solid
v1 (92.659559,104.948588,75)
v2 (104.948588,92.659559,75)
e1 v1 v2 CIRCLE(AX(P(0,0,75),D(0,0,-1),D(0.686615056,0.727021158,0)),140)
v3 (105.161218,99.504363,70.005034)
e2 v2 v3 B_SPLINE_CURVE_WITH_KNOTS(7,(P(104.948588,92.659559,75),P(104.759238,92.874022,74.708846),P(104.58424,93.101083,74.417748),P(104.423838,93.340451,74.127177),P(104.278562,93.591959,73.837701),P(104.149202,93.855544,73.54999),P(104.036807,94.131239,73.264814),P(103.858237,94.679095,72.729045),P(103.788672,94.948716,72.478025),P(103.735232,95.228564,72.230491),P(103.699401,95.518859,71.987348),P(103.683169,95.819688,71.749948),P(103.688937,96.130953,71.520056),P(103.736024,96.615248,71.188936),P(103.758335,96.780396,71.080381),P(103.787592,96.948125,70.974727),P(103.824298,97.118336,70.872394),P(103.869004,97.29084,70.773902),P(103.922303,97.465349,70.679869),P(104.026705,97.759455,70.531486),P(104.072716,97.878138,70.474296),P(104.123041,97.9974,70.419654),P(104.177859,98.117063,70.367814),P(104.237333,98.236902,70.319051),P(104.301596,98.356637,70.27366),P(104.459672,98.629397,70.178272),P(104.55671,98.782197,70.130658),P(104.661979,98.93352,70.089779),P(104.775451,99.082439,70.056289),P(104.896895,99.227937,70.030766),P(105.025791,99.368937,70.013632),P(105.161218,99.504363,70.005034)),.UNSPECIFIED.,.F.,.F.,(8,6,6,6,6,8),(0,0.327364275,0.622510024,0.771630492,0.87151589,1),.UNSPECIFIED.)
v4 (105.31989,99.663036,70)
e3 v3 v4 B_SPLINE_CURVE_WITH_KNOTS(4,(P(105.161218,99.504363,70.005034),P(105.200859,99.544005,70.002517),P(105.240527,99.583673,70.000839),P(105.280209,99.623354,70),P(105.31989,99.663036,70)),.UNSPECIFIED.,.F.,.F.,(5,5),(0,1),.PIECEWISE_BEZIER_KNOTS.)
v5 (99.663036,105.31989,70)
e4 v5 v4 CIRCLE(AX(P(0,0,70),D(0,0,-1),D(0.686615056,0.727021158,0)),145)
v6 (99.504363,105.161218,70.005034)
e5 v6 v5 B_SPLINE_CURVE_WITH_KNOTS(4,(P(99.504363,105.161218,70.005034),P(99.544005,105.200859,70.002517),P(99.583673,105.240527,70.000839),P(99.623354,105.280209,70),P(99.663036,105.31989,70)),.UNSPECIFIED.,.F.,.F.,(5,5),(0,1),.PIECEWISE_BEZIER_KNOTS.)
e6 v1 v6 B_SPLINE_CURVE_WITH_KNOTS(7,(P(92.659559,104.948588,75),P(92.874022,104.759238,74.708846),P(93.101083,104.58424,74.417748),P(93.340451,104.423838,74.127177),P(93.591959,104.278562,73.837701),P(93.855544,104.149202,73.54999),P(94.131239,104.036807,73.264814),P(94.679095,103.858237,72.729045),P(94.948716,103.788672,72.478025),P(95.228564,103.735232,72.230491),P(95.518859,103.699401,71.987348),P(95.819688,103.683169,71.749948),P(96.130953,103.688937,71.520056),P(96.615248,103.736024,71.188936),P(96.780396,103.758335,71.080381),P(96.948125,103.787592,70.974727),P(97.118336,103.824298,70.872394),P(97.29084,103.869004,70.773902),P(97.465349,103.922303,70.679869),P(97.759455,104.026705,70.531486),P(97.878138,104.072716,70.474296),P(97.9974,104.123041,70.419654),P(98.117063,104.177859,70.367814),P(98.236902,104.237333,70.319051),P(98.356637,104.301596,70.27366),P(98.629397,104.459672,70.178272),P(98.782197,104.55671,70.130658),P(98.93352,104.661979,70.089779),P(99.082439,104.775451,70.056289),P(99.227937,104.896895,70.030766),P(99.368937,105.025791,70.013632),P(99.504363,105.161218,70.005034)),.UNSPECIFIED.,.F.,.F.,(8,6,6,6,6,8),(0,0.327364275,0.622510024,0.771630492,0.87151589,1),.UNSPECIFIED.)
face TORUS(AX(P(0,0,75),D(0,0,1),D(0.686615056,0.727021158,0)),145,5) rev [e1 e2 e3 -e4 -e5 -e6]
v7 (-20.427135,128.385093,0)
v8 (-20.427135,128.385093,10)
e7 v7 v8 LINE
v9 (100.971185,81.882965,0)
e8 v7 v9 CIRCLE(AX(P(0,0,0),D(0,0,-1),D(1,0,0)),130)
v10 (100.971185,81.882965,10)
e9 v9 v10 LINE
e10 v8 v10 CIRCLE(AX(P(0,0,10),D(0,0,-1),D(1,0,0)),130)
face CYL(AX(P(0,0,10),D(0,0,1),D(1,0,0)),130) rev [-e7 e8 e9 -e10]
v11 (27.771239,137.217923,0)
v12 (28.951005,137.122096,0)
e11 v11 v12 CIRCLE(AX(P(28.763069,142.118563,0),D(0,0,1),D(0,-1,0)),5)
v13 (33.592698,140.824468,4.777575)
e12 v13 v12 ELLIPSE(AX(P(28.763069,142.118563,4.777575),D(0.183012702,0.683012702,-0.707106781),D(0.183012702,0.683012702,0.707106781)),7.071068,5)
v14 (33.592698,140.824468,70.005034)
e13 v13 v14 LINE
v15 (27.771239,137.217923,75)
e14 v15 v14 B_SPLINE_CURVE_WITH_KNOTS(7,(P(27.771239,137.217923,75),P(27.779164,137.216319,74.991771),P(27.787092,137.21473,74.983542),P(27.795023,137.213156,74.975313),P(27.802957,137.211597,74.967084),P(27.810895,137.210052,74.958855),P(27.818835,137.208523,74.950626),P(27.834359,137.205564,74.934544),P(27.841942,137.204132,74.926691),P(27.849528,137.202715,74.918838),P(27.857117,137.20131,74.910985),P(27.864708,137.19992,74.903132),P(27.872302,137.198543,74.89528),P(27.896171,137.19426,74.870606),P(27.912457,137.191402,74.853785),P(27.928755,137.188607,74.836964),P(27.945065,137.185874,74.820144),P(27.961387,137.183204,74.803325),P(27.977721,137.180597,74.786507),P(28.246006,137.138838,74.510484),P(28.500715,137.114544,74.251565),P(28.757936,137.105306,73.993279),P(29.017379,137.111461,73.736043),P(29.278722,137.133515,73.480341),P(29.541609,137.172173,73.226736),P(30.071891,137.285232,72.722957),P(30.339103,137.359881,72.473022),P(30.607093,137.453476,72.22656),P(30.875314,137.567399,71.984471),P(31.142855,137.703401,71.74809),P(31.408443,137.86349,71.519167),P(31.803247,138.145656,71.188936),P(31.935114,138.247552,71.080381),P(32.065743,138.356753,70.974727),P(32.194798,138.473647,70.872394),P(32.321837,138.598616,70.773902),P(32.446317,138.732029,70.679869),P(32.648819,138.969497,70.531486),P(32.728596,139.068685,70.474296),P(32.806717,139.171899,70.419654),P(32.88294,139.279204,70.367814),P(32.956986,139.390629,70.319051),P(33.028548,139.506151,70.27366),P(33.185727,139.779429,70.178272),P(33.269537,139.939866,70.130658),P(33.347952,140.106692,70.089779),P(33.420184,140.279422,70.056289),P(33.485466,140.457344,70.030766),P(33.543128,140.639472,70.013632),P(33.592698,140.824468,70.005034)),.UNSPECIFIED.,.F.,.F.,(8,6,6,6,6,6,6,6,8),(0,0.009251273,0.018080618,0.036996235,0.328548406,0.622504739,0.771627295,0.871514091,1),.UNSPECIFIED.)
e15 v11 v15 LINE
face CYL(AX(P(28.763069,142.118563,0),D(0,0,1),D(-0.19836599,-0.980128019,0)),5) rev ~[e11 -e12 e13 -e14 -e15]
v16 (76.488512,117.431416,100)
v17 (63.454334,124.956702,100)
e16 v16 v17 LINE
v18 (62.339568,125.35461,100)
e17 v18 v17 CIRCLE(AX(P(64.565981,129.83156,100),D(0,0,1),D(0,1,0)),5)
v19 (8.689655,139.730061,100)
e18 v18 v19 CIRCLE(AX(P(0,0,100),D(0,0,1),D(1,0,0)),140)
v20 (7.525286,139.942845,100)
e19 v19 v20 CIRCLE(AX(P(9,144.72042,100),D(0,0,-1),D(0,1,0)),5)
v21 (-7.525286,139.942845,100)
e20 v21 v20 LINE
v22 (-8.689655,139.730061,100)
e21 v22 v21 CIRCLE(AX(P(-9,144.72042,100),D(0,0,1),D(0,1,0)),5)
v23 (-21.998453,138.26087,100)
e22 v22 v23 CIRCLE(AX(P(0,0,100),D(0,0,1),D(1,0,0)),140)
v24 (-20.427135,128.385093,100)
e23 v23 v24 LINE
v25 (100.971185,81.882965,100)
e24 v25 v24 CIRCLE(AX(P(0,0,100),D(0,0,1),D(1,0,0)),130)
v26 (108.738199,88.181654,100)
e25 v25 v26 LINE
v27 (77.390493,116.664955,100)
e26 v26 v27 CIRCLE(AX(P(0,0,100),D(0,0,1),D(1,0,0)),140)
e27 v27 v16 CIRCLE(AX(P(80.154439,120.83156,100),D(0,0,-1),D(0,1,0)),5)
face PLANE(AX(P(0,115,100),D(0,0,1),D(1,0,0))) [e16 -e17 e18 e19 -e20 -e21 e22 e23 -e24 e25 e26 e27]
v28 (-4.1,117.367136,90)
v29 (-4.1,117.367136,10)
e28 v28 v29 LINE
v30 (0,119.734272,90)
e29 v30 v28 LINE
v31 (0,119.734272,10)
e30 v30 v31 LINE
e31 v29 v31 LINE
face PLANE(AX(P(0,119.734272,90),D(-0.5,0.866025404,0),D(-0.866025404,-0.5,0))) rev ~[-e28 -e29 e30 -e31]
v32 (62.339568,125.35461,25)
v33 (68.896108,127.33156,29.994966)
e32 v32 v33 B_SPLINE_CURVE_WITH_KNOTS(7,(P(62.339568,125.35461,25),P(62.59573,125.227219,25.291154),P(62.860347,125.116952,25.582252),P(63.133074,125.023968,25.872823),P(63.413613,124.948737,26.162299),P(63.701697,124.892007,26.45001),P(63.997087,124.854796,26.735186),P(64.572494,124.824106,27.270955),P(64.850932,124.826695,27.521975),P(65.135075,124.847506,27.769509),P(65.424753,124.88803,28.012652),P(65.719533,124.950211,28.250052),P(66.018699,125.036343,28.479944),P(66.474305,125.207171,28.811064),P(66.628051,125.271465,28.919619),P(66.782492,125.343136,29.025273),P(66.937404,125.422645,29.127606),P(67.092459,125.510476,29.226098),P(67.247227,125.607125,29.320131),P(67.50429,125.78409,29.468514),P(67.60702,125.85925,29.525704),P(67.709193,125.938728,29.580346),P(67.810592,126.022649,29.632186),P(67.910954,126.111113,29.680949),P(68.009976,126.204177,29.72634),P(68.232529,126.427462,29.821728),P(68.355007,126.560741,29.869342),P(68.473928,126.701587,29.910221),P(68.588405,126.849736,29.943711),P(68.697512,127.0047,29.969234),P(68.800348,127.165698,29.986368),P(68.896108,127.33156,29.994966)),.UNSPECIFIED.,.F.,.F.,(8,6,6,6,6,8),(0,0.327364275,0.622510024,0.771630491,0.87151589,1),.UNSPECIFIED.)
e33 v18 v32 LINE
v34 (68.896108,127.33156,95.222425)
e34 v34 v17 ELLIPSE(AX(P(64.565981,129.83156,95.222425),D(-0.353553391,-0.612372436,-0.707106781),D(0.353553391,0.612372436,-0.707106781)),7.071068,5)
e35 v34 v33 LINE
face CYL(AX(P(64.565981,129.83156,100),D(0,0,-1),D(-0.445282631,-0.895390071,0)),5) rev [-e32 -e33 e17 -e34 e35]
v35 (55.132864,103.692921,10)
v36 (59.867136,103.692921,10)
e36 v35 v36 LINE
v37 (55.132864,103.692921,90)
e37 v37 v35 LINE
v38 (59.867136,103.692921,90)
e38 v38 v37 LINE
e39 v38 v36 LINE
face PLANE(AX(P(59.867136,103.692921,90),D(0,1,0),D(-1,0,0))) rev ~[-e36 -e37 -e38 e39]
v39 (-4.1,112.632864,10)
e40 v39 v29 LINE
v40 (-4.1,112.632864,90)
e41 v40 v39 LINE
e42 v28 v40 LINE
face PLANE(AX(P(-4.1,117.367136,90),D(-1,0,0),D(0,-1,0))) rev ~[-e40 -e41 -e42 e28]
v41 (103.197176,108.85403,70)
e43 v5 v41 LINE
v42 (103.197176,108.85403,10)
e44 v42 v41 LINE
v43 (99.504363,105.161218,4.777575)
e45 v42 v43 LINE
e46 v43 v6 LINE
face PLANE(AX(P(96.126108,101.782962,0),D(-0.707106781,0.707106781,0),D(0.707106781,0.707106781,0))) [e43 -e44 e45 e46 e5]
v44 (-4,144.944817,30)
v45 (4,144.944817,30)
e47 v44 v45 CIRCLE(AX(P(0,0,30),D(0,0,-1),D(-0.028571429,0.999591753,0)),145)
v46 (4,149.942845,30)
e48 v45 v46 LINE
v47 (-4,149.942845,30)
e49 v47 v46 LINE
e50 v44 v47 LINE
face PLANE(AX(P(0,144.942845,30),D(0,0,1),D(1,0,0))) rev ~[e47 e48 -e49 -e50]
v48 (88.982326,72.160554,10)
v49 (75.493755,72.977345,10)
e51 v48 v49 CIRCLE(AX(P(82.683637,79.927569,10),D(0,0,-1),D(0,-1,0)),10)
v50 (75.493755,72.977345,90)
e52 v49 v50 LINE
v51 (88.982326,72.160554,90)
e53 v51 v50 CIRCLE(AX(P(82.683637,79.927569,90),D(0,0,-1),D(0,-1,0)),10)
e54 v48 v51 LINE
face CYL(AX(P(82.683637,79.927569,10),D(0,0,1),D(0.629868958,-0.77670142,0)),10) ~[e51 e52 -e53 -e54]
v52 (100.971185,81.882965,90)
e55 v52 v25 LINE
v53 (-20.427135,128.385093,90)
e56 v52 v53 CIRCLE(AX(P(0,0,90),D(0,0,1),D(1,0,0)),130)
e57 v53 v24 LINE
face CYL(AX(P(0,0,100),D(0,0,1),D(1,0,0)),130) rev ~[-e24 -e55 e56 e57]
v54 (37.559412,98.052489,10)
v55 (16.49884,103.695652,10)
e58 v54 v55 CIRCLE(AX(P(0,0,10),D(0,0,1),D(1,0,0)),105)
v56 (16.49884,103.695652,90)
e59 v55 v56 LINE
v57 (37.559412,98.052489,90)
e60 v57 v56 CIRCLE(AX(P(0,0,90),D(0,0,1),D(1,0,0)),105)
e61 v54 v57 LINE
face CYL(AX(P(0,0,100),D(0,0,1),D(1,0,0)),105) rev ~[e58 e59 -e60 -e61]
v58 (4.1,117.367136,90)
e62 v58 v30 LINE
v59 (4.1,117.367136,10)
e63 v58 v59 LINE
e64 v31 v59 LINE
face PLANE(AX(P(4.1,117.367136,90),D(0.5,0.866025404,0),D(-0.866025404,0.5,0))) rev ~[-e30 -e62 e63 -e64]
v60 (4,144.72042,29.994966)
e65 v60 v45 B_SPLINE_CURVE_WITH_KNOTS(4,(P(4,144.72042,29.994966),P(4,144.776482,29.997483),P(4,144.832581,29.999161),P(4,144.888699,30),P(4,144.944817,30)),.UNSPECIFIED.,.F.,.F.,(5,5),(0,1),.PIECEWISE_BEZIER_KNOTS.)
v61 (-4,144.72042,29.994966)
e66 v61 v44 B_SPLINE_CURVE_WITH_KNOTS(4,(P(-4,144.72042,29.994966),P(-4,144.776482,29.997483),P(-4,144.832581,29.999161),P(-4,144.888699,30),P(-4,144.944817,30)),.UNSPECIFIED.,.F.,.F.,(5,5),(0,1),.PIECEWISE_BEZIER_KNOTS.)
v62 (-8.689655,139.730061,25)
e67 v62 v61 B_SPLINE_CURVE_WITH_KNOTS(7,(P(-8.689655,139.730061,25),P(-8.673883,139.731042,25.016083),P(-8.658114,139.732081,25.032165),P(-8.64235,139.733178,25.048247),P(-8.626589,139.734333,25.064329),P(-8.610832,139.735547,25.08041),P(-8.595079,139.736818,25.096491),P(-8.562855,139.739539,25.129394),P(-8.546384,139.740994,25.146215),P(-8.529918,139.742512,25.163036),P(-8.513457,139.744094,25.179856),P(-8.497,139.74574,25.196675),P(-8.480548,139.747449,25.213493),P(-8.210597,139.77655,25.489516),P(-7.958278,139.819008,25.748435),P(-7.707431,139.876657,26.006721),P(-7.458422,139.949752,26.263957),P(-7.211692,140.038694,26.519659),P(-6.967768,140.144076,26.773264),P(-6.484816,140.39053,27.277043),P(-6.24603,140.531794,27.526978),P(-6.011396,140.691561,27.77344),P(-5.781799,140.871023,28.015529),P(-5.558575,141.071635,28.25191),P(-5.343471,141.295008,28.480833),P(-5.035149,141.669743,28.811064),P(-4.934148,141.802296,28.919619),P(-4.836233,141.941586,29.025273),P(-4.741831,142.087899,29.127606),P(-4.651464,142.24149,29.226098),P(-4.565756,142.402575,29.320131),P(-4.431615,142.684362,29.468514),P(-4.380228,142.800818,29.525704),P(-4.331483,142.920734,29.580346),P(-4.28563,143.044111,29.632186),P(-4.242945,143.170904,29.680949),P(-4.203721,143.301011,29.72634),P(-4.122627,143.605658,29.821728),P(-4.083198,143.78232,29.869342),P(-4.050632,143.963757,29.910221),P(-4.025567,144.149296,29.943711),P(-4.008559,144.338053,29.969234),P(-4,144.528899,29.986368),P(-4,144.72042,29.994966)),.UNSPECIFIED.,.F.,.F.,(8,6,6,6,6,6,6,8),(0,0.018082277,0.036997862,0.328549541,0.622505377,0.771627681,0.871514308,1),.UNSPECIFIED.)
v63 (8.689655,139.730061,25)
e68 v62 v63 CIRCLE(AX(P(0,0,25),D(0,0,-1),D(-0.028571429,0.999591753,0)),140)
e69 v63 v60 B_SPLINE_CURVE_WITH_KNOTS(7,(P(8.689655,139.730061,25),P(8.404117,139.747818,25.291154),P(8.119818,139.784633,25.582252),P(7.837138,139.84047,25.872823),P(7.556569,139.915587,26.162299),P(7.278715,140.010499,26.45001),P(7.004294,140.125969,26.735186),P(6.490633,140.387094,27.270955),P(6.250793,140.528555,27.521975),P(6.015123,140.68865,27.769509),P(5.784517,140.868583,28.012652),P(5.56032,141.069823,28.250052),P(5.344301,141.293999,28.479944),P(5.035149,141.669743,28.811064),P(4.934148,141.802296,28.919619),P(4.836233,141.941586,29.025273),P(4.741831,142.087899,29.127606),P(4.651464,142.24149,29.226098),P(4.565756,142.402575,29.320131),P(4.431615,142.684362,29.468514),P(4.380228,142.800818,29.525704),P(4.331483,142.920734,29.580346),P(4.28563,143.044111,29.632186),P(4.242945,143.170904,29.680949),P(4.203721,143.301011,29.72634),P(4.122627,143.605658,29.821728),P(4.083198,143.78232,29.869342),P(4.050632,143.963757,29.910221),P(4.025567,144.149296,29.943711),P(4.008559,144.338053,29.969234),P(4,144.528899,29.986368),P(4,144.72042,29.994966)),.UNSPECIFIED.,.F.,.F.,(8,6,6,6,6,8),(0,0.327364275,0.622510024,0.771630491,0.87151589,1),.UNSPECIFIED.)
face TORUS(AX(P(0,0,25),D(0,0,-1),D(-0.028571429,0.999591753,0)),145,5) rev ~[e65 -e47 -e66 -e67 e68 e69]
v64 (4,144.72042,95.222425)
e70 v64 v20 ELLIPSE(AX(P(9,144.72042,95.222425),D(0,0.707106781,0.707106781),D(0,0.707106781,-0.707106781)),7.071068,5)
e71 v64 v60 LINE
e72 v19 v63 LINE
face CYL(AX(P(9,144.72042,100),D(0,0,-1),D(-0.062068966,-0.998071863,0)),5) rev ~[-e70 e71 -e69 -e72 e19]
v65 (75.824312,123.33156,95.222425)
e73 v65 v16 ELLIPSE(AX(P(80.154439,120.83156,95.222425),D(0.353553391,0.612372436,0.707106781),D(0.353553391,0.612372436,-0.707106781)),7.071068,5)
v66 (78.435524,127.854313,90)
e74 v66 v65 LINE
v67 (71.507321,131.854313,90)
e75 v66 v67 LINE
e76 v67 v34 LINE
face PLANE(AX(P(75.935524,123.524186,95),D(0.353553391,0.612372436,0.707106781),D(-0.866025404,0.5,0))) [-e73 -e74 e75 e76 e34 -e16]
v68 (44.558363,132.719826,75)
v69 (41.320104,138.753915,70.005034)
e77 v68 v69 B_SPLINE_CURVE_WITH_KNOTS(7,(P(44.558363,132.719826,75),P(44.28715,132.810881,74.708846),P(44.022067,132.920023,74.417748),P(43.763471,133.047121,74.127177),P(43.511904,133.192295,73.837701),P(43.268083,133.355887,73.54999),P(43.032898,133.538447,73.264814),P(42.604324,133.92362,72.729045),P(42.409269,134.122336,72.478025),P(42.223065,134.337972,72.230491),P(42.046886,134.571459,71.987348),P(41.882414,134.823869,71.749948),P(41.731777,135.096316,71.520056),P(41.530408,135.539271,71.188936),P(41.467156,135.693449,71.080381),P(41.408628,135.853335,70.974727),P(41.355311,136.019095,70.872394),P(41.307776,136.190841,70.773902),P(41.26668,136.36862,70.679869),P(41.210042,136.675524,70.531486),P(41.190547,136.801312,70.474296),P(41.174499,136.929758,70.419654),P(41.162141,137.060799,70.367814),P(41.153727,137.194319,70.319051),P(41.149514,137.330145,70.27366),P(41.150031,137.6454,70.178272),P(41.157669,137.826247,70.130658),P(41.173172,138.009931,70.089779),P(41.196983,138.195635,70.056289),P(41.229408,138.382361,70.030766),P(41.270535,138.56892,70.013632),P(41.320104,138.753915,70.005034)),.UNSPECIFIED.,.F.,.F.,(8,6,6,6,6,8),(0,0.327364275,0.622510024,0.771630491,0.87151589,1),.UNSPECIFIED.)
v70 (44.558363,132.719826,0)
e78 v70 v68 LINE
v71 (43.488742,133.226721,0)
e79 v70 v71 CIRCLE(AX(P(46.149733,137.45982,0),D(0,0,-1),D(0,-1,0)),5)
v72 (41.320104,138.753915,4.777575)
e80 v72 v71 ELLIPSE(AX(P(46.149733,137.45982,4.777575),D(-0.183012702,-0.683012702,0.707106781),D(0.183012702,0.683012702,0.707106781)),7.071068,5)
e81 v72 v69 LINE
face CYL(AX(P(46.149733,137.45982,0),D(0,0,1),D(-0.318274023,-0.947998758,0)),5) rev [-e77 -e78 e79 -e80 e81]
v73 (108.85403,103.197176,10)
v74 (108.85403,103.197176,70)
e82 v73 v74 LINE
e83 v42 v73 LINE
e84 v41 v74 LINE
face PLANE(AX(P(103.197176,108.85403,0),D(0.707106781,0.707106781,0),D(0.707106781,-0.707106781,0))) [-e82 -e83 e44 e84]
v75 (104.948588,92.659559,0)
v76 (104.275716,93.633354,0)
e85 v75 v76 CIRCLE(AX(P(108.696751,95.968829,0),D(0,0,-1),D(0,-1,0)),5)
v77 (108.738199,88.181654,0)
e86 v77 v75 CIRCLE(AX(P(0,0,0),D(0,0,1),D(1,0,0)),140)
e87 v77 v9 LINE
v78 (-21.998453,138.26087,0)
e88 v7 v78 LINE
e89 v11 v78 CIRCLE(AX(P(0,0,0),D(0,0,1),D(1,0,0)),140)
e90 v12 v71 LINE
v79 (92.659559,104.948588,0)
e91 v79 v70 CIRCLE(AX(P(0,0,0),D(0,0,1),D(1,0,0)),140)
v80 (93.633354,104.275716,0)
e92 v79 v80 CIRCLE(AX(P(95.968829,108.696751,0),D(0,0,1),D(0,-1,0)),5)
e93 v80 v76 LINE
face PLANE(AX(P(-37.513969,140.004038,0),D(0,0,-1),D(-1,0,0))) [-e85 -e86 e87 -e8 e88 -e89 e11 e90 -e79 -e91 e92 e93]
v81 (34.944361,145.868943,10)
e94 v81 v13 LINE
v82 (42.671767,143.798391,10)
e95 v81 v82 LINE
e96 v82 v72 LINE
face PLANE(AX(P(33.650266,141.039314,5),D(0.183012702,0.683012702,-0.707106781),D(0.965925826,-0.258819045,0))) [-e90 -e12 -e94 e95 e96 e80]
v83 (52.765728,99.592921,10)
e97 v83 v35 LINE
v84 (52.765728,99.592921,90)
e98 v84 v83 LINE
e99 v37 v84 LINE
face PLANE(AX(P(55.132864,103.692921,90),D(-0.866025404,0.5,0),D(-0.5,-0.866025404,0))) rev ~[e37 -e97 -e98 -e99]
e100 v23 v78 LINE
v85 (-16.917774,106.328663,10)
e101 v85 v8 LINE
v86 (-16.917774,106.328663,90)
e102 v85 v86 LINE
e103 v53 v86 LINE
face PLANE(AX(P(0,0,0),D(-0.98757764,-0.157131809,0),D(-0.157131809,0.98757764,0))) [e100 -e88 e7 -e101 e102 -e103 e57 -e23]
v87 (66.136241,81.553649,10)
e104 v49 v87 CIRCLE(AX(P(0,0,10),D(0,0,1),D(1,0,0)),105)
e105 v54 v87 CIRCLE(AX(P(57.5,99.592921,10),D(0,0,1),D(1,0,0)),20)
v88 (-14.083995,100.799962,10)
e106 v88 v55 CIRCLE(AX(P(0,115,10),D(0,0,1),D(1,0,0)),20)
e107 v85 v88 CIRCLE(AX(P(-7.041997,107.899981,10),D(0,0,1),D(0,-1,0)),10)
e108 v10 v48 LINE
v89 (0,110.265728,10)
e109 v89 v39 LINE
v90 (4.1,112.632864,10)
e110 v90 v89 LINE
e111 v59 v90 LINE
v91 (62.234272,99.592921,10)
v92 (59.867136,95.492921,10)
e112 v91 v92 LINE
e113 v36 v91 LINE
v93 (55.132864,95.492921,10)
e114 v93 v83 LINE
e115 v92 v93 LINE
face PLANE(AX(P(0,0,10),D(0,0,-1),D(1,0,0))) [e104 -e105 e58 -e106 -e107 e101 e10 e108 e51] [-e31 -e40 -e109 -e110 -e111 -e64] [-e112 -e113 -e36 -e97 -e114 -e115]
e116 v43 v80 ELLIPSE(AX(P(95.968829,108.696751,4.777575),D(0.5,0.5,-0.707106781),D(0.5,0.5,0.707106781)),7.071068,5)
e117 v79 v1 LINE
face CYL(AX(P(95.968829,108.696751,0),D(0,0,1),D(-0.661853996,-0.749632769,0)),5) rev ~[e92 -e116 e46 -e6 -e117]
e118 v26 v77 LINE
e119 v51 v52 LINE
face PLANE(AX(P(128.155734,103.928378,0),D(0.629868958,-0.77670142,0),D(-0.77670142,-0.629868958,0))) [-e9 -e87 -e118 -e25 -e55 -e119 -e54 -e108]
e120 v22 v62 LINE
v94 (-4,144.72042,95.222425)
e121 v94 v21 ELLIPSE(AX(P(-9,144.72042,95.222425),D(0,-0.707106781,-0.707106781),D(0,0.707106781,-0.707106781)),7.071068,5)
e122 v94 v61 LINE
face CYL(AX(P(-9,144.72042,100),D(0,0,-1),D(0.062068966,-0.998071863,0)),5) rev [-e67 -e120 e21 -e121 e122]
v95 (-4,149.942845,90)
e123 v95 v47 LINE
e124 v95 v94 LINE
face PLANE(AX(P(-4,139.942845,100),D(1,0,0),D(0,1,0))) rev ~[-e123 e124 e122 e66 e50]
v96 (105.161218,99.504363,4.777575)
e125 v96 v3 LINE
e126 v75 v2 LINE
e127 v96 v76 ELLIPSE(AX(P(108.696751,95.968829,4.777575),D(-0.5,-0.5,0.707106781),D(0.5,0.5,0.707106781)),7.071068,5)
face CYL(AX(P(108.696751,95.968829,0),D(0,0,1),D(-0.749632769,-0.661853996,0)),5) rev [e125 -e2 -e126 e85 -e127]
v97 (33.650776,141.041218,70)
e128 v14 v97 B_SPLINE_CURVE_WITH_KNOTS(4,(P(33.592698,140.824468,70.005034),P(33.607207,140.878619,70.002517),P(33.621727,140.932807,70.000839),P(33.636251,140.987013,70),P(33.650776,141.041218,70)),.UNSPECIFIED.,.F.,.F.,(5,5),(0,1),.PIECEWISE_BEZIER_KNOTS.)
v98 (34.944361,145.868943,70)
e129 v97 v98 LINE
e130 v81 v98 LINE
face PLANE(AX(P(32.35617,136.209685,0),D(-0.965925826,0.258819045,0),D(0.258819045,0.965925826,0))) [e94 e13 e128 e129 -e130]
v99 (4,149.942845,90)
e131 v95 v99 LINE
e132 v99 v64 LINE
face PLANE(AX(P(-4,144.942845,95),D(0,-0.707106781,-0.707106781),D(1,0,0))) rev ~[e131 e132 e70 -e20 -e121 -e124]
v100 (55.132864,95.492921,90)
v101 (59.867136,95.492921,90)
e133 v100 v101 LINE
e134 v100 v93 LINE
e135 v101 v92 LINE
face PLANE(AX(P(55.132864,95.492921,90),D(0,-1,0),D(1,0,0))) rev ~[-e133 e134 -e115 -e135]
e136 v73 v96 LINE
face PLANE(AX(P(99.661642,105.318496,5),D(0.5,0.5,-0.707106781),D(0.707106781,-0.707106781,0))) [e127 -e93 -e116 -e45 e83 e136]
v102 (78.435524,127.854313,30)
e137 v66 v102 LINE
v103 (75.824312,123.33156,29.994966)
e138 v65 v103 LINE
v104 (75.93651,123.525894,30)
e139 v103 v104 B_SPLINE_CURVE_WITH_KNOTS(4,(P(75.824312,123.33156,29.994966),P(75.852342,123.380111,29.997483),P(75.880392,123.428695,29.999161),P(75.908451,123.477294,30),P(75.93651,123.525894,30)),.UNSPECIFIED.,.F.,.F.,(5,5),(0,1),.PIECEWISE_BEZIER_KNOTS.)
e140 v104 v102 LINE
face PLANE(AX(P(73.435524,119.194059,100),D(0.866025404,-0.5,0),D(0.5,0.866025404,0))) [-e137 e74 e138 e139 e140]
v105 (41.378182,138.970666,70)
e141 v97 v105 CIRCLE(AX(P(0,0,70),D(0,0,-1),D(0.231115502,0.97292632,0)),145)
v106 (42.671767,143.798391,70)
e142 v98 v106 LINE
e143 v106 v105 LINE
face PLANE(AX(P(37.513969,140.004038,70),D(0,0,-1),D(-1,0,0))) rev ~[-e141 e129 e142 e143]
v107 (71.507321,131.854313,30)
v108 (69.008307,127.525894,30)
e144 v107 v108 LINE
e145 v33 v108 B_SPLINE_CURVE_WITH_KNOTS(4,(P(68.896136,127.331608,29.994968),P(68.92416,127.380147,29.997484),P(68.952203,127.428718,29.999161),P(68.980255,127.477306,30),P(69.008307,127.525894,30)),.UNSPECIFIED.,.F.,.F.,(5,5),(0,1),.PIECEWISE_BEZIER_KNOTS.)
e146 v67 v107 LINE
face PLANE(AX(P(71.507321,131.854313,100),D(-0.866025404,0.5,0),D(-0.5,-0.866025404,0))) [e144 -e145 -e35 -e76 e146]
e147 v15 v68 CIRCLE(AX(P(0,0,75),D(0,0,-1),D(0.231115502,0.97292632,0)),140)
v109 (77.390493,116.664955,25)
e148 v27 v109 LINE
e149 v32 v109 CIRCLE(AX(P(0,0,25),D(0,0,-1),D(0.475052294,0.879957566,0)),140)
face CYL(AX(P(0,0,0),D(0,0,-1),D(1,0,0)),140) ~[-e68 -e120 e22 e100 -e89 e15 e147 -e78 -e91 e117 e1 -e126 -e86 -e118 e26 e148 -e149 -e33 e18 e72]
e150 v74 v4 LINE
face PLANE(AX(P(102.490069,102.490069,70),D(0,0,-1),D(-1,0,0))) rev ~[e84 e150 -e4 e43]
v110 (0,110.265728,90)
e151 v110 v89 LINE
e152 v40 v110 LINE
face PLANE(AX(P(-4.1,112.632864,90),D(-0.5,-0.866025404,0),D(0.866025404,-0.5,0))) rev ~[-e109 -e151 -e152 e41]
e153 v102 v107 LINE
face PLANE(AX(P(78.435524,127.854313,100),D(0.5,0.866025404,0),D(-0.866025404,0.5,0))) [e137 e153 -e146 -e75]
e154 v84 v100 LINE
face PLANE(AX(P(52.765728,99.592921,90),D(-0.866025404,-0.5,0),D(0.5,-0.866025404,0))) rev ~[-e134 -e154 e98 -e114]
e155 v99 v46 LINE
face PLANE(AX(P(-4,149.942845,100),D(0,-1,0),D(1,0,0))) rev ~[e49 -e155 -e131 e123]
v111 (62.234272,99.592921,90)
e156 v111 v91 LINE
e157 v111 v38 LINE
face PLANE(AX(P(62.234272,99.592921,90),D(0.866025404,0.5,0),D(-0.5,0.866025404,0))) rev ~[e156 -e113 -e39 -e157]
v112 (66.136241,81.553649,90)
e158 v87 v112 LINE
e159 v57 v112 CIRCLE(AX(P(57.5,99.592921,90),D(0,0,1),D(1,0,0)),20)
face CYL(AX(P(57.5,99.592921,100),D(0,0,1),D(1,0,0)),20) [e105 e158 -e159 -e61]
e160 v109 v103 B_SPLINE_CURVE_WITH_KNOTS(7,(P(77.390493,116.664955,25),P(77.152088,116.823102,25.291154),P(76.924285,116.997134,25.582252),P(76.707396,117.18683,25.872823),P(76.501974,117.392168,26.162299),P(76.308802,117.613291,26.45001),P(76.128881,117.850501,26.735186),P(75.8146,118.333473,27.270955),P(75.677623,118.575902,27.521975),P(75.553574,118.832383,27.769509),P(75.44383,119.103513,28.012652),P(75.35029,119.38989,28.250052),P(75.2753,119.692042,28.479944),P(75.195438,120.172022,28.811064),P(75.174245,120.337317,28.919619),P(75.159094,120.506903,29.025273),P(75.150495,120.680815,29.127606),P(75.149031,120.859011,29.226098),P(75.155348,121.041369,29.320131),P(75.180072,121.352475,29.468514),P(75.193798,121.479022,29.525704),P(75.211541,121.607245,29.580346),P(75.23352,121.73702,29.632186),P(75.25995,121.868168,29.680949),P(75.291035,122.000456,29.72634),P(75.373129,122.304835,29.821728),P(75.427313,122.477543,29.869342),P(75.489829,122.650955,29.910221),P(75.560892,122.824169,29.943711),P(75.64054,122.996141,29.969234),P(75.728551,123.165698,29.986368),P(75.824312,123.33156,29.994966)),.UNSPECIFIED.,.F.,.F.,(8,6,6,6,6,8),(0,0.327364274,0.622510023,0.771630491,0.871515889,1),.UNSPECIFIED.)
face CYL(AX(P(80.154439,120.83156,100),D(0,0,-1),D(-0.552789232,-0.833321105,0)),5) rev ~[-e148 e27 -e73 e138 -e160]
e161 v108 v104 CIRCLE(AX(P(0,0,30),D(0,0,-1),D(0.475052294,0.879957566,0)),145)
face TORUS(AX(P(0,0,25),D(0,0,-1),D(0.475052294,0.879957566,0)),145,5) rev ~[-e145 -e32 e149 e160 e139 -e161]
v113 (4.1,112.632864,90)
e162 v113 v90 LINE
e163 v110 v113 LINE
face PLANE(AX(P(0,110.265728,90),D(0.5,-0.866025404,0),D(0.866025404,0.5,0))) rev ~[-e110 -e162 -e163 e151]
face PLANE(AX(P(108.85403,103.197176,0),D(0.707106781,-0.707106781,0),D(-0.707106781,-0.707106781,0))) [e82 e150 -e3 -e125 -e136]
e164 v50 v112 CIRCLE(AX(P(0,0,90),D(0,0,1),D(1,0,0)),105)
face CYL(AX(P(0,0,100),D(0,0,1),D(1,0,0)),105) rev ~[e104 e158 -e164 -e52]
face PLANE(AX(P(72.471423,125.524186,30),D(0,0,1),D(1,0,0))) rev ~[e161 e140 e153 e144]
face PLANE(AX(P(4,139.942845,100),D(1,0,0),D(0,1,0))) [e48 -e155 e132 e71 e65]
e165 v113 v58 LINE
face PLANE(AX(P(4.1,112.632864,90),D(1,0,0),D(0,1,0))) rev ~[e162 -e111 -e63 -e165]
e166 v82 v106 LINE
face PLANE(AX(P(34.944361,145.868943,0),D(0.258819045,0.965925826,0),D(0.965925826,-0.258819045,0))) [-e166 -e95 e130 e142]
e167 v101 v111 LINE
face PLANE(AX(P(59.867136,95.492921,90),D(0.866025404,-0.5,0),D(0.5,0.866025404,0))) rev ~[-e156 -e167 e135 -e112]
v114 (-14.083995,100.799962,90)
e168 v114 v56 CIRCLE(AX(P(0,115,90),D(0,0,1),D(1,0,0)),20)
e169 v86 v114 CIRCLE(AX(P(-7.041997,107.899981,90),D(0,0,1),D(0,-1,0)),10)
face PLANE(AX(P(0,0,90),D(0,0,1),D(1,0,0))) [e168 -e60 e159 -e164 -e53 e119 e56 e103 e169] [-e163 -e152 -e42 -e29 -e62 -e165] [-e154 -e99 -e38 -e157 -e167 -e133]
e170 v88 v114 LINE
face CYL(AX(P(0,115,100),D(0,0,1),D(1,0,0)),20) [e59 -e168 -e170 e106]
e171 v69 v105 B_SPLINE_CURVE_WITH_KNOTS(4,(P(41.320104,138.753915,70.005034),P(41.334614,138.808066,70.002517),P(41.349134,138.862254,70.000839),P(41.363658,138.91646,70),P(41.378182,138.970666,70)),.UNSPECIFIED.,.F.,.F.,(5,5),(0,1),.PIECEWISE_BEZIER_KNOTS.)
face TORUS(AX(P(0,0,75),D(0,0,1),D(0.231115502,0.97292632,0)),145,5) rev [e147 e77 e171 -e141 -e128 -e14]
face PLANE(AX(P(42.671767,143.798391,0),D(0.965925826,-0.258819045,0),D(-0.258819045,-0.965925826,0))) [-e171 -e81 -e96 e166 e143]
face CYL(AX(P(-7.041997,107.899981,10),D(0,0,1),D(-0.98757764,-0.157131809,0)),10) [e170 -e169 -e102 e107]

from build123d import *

# Parameters (mm, degrees)
SKETCH_1_R          = 140
EXTRUDE_1_DEPTH     = 100
SKETCH_2_R          = 105
CUT_EXTRUDE_1_DEPTH = 100
SKETCH_3_R          = 20
EXTRUDE_2_DEPTH     = 100
SKETCH_4_R          = 130
CUT_EXTRUDE_2_DEPTH = 10
CUT_EXTRUDE_START   = -10
SKETCH_5_R          = 130
CUT_EXTRUDE_3_DEPTH = 10
CUT_EXTRUDE_4_DEPTH = 218.485631709
SKETCH_7_W          = 8
SKETCH_7_H          = 10
SKETCH_7_W_2        = 10
SKETCH_7_H_2        = 8
EXTRUDE_3_DEPTH     = 70
EXTRUDE_4_DEPTH     = 70
FILLET_3_R          = 5
CHAMFER_1_SIZE      = 10
CUT_EXTRUDE_6_DEPTH = 235.447678383
FILLET_4_R          = 10


with BuildPart() as part:
    # 草图1 → 凸台-拉伸1 (new body)
    with BuildSketch(Plane.XY):
        Circle(SKETCH_1_R)
    extrude(amount=EXTRUDE_1_DEPTH)

    # 草图2 → 切除-拉伸1 (cut)
    with BuildSketch(Plane.XY.offset(100)):
        Circle(SKETCH_2_R)
    extrude(amount=-CUT_EXTRUDE_1_DEPTH, mode=Mode.SUBTRACT)

    # 草图3 → 凸台-拉伸2 (add, through all)
    with BuildSketch(Plane.XY.offset(100)):
        with Locations((0, 115)):
            Circle(SKETCH_3_R)
        with Locations((57.5, 99.592921435)):
            Circle(SKETCH_3_R)
        with Locations((99.592921435, 57.5)):
            Circle(SKETCH_3_R)
        with Locations((115, 0)):
            Circle(SKETCH_3_R)
        with Locations((99.592921435, -57.5)):
            Circle(SKETCH_3_R)
        with Locations((57.5, -99.592921435)):
            Circle(SKETCH_3_R)
        with Locations((0, -115)):
            Circle(SKETCH_3_R)
        with Locations((-57.5, -99.592921435)):
            Circle(SKETCH_3_R)
        with Locations((-99.592921435, -57.5)):
            Circle(SKETCH_3_R)
        with Locations((-115, 0)):
            Circle(SKETCH_3_R)
        with Locations((-99.592921435, 57.5)):
            Circle(SKETCH_3_R)
        with Locations((-57.5, 99.592921435)):
            Circle(SKETCH_3_R)
    extrude(amount=-EXTRUDE_2_DEPTH)

    # 草图4 → 切除-拉伸2 (cut)
    with BuildSketch(Plane.XY.offset(100)):
        Circle(SKETCH_4_R)
    extrude(amount=-CUT_EXTRUDE_2_DEPTH, mode=Mode.SUBTRACT)

    # 草图5 → 切除-拉伸3 (cut)
    with BuildSketch(Plane(origin=(0, 0, 0), x_dir=(-1, 0, 0), z_dir=(0, 0, -1)).offset(CUT_EXTRUDE_START)):
        with Locations(Location((0, 0, 0), (0, 0, 180))):
            Circle(SKETCH_5_R)
    extrude(amount=CUT_EXTRUDE_3_DEPTH, mode=Mode.SUBTRACT)

    # 草图6 → 切除-拉伸4 (cut, through all)
    with BuildSketch(Plane.XY.offset(90)):
        Polygon((55.132863896, 95.492921435), (59.867136104, 95.492921435), (62.234272207, 99.592921435), (59.867136104, 103.692921435), (55.132863896, 103.692921435), (52.765727793, 99.592921435), align=None)
        Polygon((0, 110.265727793), (4.1, 112.632863896), (4.1, 117.367136104), (0, 119.734272207), (-4.1, 117.367136104), (-4.1, 112.632863896), align=None)
        Polygon((95.492921435, 55.132863896), (99.592921435, 52.765727793), (103.692921435, 55.132863896), (103.692921435, 59.867136104), (99.592921435, 62.234272207), (95.492921435, 59.867136104), align=None)
        Polygon((110.265727793, 0), (112.632863896, -4.1), (117.367136104, -4.1), (119.734272207, 0), (117.367136104, 4.1), (112.632863896, 4.1), align=None)
        Polygon((95.492921435, -55.132863896), (95.492921435, -59.867136104), (99.592921435, -62.234272207), (103.692921435, -59.867136104), (103.692921435, -55.132863896), (99.592921435, -52.765727793), align=None)
        Polygon((55.132863896, -95.492921435), (52.765727793, -99.592921435), (55.132863896, -103.692921435), (59.867136104, -103.692921435), (62.234272207, -99.592921435), (59.867136104, -95.492921435), align=None)
        Polygon((0, -110.265727793), (-4.1, -112.632863896), (-4.1, -117.367136104), (0, -119.734272207), (4.1, -117.367136104), (4.1, -112.632863896), align=None)
        Polygon((-55.132863896, -95.492921435), (-59.867136104, -95.492921435), (-62.234272207, -99.592921435), (-59.867136104, -103.692921435), (-55.132863896, -103.692921435), (-52.765727793, -99.592921435), align=None)
        Polygon((-95.492921435, -55.132863896), (-99.592921435, -52.765727793), (-103.692921435, -55.132863896), (-103.692921435, -59.867136104), (-99.592921435, -62.234272207), (-95.492921435, -59.867136104), align=None)
        Polygon((-110.265727793, 0), (-112.632863896, 4.1), (-117.367136104, 4.1), (-119.734272207, 0), (-117.367136104, -4.1), (-112.632863896, -4.1), align=None)
        Polygon((-95.492921435, 55.132863896), (-95.492921435, 59.867136104), (-99.592921435, 62.234272207), (-103.692921435, 59.867136104), (-103.692921435, 55.132863896), (-99.592921435, 52.765727793), align=None)
        Polygon((-55.132863896, 95.492921435), (-52.765727793, 99.592921435), (-55.132863896, 103.692921435), (-59.867136104, 103.692921435), (-62.234272207, 99.592921435), (-59.867136104, 95.492921435), align=None)
    extrude(amount=-CUT_EXTRUDE_4_DEPTH, mode=Mode.SUBTRACT)

    # 草图7 → 凸台-拉伸3 (add)
    with BuildSketch(Plane.XY.offset(100)):
        Polygon((66.507321123, 123.19405926), (73.435524353, 119.19405926), (78.435524353, 127.854313298), (71.507321123, 131.854313298), align=None)
        with Locations((0, 144.942845476)):
            Rectangle(SKETCH_7_W, SKETCH_7_H)
        Polygon((119.19405926, 73.435524353), (123.19405926, 66.507321123), (131.854313298, 71.507321123), (127.854313298, 78.435524353), align=None)
        with Locations((144.942845476, 0)):
            Rectangle(SKETCH_7_W_2, SKETCH_7_H_2)
        Polygon((123.19405926, -66.507321123), (119.19405926, -73.435524353), (127.854313298, -78.435524353), (131.854313298, -71.507321123), align=None)
        Polygon((73.435524353, -119.19405926), (66.507321123, -123.19405926), (71.507321123, -131.854313298), (78.435524353, -127.854313298), align=None)
        with Locations((0, -144.942845476)):
            Rectangle(SKETCH_7_W, SKETCH_7_H)
        Polygon((-66.507321123, -123.19405926), (-73.435524353, -119.19405926), (-78.435524353, -127.854313298), (-71.507321123, -131.854313298), align=None)
        Polygon((-119.19405926, -73.435524353), (-123.19405926, -66.507321123), (-131.854313298, -71.507321123), (-127.854313298, -78.435524353), align=None)
        with Locations((-144.942845476, 0)):
            Rectangle(SKETCH_7_W_2, SKETCH_7_H_2)
        Polygon((-123.19405926, 66.507321123), (-119.19405926, 73.435524353), (-127.854313298, 78.435524353), (-131.854313298, 71.507321123), align=None)
        Polygon((-73.435524353, 119.19405926), (-66.507321123, 123.19405926), (-71.507321123, 131.854313298), (-78.435524353, 127.854313298), align=None)
    extrude(amount=-EXTRUDE_3_DEPTH)

    # 草图9 → 凸台-拉伸4 (add)
    with BuildSketch(Plane(origin=(0, 0, 0), x_dir=(-1, 0, 0), z_dir=(0, 0, -1))):
        Polygon((34.944360781, 145.868943093), (32.35617033, 136.20968483), (40.08357694, 134.13913247), (42.671767391, 143.798390732), align=None)
        Polygon((101.78296214, 96.12610789), (108.854029951, 103.197175702), (103.197175702, 108.854029951), (96.12610789, 101.78296214), align=None)
        Polygon((136.20968483, 32.35617033), (145.868943093, 34.944360781), (143.798390732, 42.671767391), (134.13913247, 40.08357694), align=None)
        Polygon((134.13913247, -40.08357694), (143.798390732, -42.671767391), (145.868943093, -34.944360781), (136.20968483, -32.35617033), align=None)
        Polygon((96.12610789, -101.78296214), (103.197175702, -108.854029951), (108.854029951, -103.197175702), (101.78296214, -96.12610789), align=None)
        Polygon((32.35617033, -136.20968483), (34.944360781, -145.868943093), (42.671767391, -143.798390732), (40.08357694, -134.13913247), align=None)
        Polygon((-40.08357694, -134.13913247), (-42.671767391, -143.798390732), (-34.944360781, -145.868943093), (-32.35617033, -136.20968483), align=None)
        Polygon((-101.78296214, -96.12610789), (-108.854029951, -103.197175702), (-103.197175702, -108.854029951), (-96.12610789, -101.78296214), align=None)
        Polygon((-136.20968483, -32.35617033), (-145.868943093, -34.944360781), (-143.798390732, -42.671767391), (-134.13913247, -40.08357694), align=None)
        Polygon((-134.13913247, 40.08357694), (-143.798390732, 42.671767391), (-145.868943093, 34.944360781), (-136.20968483, 32.35617033), align=None)
        Polygon((-96.12610789, 101.78296214), (-103.197175702, 108.854029951), (-108.854029951, 103.197175702), (-101.78296214, 96.12610789), align=None)
        Polygon((-32.35617033, 136.20968483), (-34.944360781, 145.868943093), (-42.671767391, 143.798390732), (-40.08357694, 134.13913247), align=None)
    extrude(amount=-EXTRUDE_4_DEPTH)

    # 圆角3
    fillet_3_edges = [part.edges().sort_by_distance(p)[0] for p in [
        (70, 121.24355653, 30),
        (-70, 121.24355653, 30),
        (-121.24355653, 70, 30),
        (-140, 0, 30),
        (0, 140, 30),
        (121.24355653, 70, 30),
        (139.98571064, 2.000204155, 30),
        (121.24355653, -70, 30),
        (70, -121.24355653, 30),
        (0, -140, 30),
        (-70, -121.24355653, 30),
        (-121.24355653, -70, 30),
        (-119.19405926, -73.435524353, 65),
        (-123.19405926, -66.507321123, 65),
        (-66.507321123, -123.19405926, 65),
        (-73.435524353, -119.19405926, 65),
        (4, -139.942845476, 65),
        (-4, -139.942845476, 65),
        (73.435524353, -119.19405926, 65),
        (66.507321123, -123.19405926, 65),
        (123.19405926, -66.507321123, 65),
        (119.19405926, -73.435524353, 65),
        (139.942845476, 4, 65),
        (139.942845476, -4, 65),
        (119.19405926, 73.435524353, 65),
        (123.19405926, 66.507321123, 65),
        (-4, 139.942845476, 65),
        (4, 139.942845476, 65),
        (-139.942845476, -4, 65),
        (-139.942845476, 4, 65),
        (-123.19405926, 66.507321123, 65),
        (-119.19405926, 73.435524353, 65),
        (-73.435524353, 119.19405926, 65),
        (-66.507321123, 123.19405926, 65),
        (66.507321123, 123.19405926, 65),
        (73.435524353, 119.19405926, 65),
        (-36.234666314, 135.22961568, 70),
        (36.234666314, 135.22961568, 70),
        (98.994949366, 98.994949366, 70),
        (135.22961568, 36.234666314, 70),
        (135.22961568, -36.234666314, 70),
        (98.994949366, -98.994949366, 70),
        (36.234666314, -135.22961568, 70),
        (-36.234666314, -135.22961568, 70),
        (-98.994949366, -98.994949366, 70),
        (-135.22961568, -36.234666314, 70),
        (-135.22961568, 36.234666314, 70),
        (-98.994949366, 98.994949366, 70),
        (-96.12610789, 101.78296214, 35),
        (-101.78296214, 96.12610789, 35),
        (-134.13913247, 40.08357694, 35),
        (-136.20968483, 32.35617033, 35),
        (-136.20968483, -32.35617033, 35),
        (-134.13913247, -40.08357694, 35),
        (-101.78296214, -96.12610789, 35),
        (-96.12610789, -101.78296214, 35),
        (-40.08357694, -134.13913247, 35),
        (-32.35617033, -136.20968483, 35),
        (32.35617033, -136.20968483, 35),
        (40.08357694, -134.13913247, 35),
        (96.12610789, -101.78296214, 35),
        (101.78296214, -96.12610789, 35),
        (134.13913247, -40.08357694, 35),
        (136.20968483, -32.35617033, 35),
        (136.20968483, 32.35617033, 35),
        (134.13913247, 40.08357694, 35),
        (101.78296214, 96.12610789, 35),
        (96.12610789, 101.78296214, 35),
        (40.08357694, 134.13913247, 35),
        (32.35617033, 136.20968483, 35),
        (-40.08357694, 134.13913247, 35),
        (-32.35617033, 136.20968483, 35),
    ]]
    fillet(fillet_3_edges, radius=FILLET_3_R)

    # 倒角1
    chamfer_1_edges = [part.edges().sort_by_distance(p)[0] for p in [
        (74.971422738, 129.854313298, 100),
        (106.025602827, 106.025602827, 0),
        (129.854313298, 74.971422738, 100),
        (144.833666913, 38.808064086, 0),
        (149.942845476, 0, 100),
        (144.833666913, -38.808064086, 0),
        (129.854313298, -74.971422738, 100),
        (106.025602827, -106.025602827, 0),
        (74.971422738, -129.854313298, 100),
        (38.808064086, -144.833666913, 0),
        (0, -149.942845476, 100),
        (-38.808064086, -144.833666913, 0),
        (-74.971422738, -129.854313298, 100),
        (-106.025602827, -106.025602827, 0),
        (-129.854313298, -74.971422738, 100),
        (-144.833666913, -38.808064086, 0),
        (-149.942845476, 0, 100),
        (-129.854313298, 74.971422738, 100),
        (-74.971422738, 129.854313298, 100),
        (0, 149.942845476, 100),
        (-144.833666913, 38.808064086, 0),
        (-106.025602827, 106.025602827, 0),
        (-38.808064086, 144.833666913, 0),
        (38.808064086, 144.833666913, 0),
    ]]
    chamfer(chamfer_1_edges, length=CHAMFER_1_SIZE)

    # 草图10 → 切除-拉伸6 (cut, through all)
    with BuildSketch(Plane(origin=(0, 0, 0), x_dir=(-1, 0, 0), z_dir=(0, 0, -1))):
        with BuildLine():
            Line((0, 0), (25.926748518, 162.950310559))
            ThreePointArc((25.926748518, 162.950310559), (59.021932425, -154.082482758), (-128.15573424, 103.928378134))
            Line((-128.15573424, 103.928378134), (0, 0))
        make_face()
    extrude(amount=-CUT_EXTRUDE_6_DEPTH, mode=Mode.SUBTRACT)

    # 圆角4
    fillet_4_edges = [part.edges().sort_by_distance(p)[0] for p in [
        (81.553649062, 66.136240631, 50),
        (-16.498839966, 103.695652174, 50),
    ]]
    fillet(fillet_4_edges, radius=FILLET_4_R)


solid = part.part
